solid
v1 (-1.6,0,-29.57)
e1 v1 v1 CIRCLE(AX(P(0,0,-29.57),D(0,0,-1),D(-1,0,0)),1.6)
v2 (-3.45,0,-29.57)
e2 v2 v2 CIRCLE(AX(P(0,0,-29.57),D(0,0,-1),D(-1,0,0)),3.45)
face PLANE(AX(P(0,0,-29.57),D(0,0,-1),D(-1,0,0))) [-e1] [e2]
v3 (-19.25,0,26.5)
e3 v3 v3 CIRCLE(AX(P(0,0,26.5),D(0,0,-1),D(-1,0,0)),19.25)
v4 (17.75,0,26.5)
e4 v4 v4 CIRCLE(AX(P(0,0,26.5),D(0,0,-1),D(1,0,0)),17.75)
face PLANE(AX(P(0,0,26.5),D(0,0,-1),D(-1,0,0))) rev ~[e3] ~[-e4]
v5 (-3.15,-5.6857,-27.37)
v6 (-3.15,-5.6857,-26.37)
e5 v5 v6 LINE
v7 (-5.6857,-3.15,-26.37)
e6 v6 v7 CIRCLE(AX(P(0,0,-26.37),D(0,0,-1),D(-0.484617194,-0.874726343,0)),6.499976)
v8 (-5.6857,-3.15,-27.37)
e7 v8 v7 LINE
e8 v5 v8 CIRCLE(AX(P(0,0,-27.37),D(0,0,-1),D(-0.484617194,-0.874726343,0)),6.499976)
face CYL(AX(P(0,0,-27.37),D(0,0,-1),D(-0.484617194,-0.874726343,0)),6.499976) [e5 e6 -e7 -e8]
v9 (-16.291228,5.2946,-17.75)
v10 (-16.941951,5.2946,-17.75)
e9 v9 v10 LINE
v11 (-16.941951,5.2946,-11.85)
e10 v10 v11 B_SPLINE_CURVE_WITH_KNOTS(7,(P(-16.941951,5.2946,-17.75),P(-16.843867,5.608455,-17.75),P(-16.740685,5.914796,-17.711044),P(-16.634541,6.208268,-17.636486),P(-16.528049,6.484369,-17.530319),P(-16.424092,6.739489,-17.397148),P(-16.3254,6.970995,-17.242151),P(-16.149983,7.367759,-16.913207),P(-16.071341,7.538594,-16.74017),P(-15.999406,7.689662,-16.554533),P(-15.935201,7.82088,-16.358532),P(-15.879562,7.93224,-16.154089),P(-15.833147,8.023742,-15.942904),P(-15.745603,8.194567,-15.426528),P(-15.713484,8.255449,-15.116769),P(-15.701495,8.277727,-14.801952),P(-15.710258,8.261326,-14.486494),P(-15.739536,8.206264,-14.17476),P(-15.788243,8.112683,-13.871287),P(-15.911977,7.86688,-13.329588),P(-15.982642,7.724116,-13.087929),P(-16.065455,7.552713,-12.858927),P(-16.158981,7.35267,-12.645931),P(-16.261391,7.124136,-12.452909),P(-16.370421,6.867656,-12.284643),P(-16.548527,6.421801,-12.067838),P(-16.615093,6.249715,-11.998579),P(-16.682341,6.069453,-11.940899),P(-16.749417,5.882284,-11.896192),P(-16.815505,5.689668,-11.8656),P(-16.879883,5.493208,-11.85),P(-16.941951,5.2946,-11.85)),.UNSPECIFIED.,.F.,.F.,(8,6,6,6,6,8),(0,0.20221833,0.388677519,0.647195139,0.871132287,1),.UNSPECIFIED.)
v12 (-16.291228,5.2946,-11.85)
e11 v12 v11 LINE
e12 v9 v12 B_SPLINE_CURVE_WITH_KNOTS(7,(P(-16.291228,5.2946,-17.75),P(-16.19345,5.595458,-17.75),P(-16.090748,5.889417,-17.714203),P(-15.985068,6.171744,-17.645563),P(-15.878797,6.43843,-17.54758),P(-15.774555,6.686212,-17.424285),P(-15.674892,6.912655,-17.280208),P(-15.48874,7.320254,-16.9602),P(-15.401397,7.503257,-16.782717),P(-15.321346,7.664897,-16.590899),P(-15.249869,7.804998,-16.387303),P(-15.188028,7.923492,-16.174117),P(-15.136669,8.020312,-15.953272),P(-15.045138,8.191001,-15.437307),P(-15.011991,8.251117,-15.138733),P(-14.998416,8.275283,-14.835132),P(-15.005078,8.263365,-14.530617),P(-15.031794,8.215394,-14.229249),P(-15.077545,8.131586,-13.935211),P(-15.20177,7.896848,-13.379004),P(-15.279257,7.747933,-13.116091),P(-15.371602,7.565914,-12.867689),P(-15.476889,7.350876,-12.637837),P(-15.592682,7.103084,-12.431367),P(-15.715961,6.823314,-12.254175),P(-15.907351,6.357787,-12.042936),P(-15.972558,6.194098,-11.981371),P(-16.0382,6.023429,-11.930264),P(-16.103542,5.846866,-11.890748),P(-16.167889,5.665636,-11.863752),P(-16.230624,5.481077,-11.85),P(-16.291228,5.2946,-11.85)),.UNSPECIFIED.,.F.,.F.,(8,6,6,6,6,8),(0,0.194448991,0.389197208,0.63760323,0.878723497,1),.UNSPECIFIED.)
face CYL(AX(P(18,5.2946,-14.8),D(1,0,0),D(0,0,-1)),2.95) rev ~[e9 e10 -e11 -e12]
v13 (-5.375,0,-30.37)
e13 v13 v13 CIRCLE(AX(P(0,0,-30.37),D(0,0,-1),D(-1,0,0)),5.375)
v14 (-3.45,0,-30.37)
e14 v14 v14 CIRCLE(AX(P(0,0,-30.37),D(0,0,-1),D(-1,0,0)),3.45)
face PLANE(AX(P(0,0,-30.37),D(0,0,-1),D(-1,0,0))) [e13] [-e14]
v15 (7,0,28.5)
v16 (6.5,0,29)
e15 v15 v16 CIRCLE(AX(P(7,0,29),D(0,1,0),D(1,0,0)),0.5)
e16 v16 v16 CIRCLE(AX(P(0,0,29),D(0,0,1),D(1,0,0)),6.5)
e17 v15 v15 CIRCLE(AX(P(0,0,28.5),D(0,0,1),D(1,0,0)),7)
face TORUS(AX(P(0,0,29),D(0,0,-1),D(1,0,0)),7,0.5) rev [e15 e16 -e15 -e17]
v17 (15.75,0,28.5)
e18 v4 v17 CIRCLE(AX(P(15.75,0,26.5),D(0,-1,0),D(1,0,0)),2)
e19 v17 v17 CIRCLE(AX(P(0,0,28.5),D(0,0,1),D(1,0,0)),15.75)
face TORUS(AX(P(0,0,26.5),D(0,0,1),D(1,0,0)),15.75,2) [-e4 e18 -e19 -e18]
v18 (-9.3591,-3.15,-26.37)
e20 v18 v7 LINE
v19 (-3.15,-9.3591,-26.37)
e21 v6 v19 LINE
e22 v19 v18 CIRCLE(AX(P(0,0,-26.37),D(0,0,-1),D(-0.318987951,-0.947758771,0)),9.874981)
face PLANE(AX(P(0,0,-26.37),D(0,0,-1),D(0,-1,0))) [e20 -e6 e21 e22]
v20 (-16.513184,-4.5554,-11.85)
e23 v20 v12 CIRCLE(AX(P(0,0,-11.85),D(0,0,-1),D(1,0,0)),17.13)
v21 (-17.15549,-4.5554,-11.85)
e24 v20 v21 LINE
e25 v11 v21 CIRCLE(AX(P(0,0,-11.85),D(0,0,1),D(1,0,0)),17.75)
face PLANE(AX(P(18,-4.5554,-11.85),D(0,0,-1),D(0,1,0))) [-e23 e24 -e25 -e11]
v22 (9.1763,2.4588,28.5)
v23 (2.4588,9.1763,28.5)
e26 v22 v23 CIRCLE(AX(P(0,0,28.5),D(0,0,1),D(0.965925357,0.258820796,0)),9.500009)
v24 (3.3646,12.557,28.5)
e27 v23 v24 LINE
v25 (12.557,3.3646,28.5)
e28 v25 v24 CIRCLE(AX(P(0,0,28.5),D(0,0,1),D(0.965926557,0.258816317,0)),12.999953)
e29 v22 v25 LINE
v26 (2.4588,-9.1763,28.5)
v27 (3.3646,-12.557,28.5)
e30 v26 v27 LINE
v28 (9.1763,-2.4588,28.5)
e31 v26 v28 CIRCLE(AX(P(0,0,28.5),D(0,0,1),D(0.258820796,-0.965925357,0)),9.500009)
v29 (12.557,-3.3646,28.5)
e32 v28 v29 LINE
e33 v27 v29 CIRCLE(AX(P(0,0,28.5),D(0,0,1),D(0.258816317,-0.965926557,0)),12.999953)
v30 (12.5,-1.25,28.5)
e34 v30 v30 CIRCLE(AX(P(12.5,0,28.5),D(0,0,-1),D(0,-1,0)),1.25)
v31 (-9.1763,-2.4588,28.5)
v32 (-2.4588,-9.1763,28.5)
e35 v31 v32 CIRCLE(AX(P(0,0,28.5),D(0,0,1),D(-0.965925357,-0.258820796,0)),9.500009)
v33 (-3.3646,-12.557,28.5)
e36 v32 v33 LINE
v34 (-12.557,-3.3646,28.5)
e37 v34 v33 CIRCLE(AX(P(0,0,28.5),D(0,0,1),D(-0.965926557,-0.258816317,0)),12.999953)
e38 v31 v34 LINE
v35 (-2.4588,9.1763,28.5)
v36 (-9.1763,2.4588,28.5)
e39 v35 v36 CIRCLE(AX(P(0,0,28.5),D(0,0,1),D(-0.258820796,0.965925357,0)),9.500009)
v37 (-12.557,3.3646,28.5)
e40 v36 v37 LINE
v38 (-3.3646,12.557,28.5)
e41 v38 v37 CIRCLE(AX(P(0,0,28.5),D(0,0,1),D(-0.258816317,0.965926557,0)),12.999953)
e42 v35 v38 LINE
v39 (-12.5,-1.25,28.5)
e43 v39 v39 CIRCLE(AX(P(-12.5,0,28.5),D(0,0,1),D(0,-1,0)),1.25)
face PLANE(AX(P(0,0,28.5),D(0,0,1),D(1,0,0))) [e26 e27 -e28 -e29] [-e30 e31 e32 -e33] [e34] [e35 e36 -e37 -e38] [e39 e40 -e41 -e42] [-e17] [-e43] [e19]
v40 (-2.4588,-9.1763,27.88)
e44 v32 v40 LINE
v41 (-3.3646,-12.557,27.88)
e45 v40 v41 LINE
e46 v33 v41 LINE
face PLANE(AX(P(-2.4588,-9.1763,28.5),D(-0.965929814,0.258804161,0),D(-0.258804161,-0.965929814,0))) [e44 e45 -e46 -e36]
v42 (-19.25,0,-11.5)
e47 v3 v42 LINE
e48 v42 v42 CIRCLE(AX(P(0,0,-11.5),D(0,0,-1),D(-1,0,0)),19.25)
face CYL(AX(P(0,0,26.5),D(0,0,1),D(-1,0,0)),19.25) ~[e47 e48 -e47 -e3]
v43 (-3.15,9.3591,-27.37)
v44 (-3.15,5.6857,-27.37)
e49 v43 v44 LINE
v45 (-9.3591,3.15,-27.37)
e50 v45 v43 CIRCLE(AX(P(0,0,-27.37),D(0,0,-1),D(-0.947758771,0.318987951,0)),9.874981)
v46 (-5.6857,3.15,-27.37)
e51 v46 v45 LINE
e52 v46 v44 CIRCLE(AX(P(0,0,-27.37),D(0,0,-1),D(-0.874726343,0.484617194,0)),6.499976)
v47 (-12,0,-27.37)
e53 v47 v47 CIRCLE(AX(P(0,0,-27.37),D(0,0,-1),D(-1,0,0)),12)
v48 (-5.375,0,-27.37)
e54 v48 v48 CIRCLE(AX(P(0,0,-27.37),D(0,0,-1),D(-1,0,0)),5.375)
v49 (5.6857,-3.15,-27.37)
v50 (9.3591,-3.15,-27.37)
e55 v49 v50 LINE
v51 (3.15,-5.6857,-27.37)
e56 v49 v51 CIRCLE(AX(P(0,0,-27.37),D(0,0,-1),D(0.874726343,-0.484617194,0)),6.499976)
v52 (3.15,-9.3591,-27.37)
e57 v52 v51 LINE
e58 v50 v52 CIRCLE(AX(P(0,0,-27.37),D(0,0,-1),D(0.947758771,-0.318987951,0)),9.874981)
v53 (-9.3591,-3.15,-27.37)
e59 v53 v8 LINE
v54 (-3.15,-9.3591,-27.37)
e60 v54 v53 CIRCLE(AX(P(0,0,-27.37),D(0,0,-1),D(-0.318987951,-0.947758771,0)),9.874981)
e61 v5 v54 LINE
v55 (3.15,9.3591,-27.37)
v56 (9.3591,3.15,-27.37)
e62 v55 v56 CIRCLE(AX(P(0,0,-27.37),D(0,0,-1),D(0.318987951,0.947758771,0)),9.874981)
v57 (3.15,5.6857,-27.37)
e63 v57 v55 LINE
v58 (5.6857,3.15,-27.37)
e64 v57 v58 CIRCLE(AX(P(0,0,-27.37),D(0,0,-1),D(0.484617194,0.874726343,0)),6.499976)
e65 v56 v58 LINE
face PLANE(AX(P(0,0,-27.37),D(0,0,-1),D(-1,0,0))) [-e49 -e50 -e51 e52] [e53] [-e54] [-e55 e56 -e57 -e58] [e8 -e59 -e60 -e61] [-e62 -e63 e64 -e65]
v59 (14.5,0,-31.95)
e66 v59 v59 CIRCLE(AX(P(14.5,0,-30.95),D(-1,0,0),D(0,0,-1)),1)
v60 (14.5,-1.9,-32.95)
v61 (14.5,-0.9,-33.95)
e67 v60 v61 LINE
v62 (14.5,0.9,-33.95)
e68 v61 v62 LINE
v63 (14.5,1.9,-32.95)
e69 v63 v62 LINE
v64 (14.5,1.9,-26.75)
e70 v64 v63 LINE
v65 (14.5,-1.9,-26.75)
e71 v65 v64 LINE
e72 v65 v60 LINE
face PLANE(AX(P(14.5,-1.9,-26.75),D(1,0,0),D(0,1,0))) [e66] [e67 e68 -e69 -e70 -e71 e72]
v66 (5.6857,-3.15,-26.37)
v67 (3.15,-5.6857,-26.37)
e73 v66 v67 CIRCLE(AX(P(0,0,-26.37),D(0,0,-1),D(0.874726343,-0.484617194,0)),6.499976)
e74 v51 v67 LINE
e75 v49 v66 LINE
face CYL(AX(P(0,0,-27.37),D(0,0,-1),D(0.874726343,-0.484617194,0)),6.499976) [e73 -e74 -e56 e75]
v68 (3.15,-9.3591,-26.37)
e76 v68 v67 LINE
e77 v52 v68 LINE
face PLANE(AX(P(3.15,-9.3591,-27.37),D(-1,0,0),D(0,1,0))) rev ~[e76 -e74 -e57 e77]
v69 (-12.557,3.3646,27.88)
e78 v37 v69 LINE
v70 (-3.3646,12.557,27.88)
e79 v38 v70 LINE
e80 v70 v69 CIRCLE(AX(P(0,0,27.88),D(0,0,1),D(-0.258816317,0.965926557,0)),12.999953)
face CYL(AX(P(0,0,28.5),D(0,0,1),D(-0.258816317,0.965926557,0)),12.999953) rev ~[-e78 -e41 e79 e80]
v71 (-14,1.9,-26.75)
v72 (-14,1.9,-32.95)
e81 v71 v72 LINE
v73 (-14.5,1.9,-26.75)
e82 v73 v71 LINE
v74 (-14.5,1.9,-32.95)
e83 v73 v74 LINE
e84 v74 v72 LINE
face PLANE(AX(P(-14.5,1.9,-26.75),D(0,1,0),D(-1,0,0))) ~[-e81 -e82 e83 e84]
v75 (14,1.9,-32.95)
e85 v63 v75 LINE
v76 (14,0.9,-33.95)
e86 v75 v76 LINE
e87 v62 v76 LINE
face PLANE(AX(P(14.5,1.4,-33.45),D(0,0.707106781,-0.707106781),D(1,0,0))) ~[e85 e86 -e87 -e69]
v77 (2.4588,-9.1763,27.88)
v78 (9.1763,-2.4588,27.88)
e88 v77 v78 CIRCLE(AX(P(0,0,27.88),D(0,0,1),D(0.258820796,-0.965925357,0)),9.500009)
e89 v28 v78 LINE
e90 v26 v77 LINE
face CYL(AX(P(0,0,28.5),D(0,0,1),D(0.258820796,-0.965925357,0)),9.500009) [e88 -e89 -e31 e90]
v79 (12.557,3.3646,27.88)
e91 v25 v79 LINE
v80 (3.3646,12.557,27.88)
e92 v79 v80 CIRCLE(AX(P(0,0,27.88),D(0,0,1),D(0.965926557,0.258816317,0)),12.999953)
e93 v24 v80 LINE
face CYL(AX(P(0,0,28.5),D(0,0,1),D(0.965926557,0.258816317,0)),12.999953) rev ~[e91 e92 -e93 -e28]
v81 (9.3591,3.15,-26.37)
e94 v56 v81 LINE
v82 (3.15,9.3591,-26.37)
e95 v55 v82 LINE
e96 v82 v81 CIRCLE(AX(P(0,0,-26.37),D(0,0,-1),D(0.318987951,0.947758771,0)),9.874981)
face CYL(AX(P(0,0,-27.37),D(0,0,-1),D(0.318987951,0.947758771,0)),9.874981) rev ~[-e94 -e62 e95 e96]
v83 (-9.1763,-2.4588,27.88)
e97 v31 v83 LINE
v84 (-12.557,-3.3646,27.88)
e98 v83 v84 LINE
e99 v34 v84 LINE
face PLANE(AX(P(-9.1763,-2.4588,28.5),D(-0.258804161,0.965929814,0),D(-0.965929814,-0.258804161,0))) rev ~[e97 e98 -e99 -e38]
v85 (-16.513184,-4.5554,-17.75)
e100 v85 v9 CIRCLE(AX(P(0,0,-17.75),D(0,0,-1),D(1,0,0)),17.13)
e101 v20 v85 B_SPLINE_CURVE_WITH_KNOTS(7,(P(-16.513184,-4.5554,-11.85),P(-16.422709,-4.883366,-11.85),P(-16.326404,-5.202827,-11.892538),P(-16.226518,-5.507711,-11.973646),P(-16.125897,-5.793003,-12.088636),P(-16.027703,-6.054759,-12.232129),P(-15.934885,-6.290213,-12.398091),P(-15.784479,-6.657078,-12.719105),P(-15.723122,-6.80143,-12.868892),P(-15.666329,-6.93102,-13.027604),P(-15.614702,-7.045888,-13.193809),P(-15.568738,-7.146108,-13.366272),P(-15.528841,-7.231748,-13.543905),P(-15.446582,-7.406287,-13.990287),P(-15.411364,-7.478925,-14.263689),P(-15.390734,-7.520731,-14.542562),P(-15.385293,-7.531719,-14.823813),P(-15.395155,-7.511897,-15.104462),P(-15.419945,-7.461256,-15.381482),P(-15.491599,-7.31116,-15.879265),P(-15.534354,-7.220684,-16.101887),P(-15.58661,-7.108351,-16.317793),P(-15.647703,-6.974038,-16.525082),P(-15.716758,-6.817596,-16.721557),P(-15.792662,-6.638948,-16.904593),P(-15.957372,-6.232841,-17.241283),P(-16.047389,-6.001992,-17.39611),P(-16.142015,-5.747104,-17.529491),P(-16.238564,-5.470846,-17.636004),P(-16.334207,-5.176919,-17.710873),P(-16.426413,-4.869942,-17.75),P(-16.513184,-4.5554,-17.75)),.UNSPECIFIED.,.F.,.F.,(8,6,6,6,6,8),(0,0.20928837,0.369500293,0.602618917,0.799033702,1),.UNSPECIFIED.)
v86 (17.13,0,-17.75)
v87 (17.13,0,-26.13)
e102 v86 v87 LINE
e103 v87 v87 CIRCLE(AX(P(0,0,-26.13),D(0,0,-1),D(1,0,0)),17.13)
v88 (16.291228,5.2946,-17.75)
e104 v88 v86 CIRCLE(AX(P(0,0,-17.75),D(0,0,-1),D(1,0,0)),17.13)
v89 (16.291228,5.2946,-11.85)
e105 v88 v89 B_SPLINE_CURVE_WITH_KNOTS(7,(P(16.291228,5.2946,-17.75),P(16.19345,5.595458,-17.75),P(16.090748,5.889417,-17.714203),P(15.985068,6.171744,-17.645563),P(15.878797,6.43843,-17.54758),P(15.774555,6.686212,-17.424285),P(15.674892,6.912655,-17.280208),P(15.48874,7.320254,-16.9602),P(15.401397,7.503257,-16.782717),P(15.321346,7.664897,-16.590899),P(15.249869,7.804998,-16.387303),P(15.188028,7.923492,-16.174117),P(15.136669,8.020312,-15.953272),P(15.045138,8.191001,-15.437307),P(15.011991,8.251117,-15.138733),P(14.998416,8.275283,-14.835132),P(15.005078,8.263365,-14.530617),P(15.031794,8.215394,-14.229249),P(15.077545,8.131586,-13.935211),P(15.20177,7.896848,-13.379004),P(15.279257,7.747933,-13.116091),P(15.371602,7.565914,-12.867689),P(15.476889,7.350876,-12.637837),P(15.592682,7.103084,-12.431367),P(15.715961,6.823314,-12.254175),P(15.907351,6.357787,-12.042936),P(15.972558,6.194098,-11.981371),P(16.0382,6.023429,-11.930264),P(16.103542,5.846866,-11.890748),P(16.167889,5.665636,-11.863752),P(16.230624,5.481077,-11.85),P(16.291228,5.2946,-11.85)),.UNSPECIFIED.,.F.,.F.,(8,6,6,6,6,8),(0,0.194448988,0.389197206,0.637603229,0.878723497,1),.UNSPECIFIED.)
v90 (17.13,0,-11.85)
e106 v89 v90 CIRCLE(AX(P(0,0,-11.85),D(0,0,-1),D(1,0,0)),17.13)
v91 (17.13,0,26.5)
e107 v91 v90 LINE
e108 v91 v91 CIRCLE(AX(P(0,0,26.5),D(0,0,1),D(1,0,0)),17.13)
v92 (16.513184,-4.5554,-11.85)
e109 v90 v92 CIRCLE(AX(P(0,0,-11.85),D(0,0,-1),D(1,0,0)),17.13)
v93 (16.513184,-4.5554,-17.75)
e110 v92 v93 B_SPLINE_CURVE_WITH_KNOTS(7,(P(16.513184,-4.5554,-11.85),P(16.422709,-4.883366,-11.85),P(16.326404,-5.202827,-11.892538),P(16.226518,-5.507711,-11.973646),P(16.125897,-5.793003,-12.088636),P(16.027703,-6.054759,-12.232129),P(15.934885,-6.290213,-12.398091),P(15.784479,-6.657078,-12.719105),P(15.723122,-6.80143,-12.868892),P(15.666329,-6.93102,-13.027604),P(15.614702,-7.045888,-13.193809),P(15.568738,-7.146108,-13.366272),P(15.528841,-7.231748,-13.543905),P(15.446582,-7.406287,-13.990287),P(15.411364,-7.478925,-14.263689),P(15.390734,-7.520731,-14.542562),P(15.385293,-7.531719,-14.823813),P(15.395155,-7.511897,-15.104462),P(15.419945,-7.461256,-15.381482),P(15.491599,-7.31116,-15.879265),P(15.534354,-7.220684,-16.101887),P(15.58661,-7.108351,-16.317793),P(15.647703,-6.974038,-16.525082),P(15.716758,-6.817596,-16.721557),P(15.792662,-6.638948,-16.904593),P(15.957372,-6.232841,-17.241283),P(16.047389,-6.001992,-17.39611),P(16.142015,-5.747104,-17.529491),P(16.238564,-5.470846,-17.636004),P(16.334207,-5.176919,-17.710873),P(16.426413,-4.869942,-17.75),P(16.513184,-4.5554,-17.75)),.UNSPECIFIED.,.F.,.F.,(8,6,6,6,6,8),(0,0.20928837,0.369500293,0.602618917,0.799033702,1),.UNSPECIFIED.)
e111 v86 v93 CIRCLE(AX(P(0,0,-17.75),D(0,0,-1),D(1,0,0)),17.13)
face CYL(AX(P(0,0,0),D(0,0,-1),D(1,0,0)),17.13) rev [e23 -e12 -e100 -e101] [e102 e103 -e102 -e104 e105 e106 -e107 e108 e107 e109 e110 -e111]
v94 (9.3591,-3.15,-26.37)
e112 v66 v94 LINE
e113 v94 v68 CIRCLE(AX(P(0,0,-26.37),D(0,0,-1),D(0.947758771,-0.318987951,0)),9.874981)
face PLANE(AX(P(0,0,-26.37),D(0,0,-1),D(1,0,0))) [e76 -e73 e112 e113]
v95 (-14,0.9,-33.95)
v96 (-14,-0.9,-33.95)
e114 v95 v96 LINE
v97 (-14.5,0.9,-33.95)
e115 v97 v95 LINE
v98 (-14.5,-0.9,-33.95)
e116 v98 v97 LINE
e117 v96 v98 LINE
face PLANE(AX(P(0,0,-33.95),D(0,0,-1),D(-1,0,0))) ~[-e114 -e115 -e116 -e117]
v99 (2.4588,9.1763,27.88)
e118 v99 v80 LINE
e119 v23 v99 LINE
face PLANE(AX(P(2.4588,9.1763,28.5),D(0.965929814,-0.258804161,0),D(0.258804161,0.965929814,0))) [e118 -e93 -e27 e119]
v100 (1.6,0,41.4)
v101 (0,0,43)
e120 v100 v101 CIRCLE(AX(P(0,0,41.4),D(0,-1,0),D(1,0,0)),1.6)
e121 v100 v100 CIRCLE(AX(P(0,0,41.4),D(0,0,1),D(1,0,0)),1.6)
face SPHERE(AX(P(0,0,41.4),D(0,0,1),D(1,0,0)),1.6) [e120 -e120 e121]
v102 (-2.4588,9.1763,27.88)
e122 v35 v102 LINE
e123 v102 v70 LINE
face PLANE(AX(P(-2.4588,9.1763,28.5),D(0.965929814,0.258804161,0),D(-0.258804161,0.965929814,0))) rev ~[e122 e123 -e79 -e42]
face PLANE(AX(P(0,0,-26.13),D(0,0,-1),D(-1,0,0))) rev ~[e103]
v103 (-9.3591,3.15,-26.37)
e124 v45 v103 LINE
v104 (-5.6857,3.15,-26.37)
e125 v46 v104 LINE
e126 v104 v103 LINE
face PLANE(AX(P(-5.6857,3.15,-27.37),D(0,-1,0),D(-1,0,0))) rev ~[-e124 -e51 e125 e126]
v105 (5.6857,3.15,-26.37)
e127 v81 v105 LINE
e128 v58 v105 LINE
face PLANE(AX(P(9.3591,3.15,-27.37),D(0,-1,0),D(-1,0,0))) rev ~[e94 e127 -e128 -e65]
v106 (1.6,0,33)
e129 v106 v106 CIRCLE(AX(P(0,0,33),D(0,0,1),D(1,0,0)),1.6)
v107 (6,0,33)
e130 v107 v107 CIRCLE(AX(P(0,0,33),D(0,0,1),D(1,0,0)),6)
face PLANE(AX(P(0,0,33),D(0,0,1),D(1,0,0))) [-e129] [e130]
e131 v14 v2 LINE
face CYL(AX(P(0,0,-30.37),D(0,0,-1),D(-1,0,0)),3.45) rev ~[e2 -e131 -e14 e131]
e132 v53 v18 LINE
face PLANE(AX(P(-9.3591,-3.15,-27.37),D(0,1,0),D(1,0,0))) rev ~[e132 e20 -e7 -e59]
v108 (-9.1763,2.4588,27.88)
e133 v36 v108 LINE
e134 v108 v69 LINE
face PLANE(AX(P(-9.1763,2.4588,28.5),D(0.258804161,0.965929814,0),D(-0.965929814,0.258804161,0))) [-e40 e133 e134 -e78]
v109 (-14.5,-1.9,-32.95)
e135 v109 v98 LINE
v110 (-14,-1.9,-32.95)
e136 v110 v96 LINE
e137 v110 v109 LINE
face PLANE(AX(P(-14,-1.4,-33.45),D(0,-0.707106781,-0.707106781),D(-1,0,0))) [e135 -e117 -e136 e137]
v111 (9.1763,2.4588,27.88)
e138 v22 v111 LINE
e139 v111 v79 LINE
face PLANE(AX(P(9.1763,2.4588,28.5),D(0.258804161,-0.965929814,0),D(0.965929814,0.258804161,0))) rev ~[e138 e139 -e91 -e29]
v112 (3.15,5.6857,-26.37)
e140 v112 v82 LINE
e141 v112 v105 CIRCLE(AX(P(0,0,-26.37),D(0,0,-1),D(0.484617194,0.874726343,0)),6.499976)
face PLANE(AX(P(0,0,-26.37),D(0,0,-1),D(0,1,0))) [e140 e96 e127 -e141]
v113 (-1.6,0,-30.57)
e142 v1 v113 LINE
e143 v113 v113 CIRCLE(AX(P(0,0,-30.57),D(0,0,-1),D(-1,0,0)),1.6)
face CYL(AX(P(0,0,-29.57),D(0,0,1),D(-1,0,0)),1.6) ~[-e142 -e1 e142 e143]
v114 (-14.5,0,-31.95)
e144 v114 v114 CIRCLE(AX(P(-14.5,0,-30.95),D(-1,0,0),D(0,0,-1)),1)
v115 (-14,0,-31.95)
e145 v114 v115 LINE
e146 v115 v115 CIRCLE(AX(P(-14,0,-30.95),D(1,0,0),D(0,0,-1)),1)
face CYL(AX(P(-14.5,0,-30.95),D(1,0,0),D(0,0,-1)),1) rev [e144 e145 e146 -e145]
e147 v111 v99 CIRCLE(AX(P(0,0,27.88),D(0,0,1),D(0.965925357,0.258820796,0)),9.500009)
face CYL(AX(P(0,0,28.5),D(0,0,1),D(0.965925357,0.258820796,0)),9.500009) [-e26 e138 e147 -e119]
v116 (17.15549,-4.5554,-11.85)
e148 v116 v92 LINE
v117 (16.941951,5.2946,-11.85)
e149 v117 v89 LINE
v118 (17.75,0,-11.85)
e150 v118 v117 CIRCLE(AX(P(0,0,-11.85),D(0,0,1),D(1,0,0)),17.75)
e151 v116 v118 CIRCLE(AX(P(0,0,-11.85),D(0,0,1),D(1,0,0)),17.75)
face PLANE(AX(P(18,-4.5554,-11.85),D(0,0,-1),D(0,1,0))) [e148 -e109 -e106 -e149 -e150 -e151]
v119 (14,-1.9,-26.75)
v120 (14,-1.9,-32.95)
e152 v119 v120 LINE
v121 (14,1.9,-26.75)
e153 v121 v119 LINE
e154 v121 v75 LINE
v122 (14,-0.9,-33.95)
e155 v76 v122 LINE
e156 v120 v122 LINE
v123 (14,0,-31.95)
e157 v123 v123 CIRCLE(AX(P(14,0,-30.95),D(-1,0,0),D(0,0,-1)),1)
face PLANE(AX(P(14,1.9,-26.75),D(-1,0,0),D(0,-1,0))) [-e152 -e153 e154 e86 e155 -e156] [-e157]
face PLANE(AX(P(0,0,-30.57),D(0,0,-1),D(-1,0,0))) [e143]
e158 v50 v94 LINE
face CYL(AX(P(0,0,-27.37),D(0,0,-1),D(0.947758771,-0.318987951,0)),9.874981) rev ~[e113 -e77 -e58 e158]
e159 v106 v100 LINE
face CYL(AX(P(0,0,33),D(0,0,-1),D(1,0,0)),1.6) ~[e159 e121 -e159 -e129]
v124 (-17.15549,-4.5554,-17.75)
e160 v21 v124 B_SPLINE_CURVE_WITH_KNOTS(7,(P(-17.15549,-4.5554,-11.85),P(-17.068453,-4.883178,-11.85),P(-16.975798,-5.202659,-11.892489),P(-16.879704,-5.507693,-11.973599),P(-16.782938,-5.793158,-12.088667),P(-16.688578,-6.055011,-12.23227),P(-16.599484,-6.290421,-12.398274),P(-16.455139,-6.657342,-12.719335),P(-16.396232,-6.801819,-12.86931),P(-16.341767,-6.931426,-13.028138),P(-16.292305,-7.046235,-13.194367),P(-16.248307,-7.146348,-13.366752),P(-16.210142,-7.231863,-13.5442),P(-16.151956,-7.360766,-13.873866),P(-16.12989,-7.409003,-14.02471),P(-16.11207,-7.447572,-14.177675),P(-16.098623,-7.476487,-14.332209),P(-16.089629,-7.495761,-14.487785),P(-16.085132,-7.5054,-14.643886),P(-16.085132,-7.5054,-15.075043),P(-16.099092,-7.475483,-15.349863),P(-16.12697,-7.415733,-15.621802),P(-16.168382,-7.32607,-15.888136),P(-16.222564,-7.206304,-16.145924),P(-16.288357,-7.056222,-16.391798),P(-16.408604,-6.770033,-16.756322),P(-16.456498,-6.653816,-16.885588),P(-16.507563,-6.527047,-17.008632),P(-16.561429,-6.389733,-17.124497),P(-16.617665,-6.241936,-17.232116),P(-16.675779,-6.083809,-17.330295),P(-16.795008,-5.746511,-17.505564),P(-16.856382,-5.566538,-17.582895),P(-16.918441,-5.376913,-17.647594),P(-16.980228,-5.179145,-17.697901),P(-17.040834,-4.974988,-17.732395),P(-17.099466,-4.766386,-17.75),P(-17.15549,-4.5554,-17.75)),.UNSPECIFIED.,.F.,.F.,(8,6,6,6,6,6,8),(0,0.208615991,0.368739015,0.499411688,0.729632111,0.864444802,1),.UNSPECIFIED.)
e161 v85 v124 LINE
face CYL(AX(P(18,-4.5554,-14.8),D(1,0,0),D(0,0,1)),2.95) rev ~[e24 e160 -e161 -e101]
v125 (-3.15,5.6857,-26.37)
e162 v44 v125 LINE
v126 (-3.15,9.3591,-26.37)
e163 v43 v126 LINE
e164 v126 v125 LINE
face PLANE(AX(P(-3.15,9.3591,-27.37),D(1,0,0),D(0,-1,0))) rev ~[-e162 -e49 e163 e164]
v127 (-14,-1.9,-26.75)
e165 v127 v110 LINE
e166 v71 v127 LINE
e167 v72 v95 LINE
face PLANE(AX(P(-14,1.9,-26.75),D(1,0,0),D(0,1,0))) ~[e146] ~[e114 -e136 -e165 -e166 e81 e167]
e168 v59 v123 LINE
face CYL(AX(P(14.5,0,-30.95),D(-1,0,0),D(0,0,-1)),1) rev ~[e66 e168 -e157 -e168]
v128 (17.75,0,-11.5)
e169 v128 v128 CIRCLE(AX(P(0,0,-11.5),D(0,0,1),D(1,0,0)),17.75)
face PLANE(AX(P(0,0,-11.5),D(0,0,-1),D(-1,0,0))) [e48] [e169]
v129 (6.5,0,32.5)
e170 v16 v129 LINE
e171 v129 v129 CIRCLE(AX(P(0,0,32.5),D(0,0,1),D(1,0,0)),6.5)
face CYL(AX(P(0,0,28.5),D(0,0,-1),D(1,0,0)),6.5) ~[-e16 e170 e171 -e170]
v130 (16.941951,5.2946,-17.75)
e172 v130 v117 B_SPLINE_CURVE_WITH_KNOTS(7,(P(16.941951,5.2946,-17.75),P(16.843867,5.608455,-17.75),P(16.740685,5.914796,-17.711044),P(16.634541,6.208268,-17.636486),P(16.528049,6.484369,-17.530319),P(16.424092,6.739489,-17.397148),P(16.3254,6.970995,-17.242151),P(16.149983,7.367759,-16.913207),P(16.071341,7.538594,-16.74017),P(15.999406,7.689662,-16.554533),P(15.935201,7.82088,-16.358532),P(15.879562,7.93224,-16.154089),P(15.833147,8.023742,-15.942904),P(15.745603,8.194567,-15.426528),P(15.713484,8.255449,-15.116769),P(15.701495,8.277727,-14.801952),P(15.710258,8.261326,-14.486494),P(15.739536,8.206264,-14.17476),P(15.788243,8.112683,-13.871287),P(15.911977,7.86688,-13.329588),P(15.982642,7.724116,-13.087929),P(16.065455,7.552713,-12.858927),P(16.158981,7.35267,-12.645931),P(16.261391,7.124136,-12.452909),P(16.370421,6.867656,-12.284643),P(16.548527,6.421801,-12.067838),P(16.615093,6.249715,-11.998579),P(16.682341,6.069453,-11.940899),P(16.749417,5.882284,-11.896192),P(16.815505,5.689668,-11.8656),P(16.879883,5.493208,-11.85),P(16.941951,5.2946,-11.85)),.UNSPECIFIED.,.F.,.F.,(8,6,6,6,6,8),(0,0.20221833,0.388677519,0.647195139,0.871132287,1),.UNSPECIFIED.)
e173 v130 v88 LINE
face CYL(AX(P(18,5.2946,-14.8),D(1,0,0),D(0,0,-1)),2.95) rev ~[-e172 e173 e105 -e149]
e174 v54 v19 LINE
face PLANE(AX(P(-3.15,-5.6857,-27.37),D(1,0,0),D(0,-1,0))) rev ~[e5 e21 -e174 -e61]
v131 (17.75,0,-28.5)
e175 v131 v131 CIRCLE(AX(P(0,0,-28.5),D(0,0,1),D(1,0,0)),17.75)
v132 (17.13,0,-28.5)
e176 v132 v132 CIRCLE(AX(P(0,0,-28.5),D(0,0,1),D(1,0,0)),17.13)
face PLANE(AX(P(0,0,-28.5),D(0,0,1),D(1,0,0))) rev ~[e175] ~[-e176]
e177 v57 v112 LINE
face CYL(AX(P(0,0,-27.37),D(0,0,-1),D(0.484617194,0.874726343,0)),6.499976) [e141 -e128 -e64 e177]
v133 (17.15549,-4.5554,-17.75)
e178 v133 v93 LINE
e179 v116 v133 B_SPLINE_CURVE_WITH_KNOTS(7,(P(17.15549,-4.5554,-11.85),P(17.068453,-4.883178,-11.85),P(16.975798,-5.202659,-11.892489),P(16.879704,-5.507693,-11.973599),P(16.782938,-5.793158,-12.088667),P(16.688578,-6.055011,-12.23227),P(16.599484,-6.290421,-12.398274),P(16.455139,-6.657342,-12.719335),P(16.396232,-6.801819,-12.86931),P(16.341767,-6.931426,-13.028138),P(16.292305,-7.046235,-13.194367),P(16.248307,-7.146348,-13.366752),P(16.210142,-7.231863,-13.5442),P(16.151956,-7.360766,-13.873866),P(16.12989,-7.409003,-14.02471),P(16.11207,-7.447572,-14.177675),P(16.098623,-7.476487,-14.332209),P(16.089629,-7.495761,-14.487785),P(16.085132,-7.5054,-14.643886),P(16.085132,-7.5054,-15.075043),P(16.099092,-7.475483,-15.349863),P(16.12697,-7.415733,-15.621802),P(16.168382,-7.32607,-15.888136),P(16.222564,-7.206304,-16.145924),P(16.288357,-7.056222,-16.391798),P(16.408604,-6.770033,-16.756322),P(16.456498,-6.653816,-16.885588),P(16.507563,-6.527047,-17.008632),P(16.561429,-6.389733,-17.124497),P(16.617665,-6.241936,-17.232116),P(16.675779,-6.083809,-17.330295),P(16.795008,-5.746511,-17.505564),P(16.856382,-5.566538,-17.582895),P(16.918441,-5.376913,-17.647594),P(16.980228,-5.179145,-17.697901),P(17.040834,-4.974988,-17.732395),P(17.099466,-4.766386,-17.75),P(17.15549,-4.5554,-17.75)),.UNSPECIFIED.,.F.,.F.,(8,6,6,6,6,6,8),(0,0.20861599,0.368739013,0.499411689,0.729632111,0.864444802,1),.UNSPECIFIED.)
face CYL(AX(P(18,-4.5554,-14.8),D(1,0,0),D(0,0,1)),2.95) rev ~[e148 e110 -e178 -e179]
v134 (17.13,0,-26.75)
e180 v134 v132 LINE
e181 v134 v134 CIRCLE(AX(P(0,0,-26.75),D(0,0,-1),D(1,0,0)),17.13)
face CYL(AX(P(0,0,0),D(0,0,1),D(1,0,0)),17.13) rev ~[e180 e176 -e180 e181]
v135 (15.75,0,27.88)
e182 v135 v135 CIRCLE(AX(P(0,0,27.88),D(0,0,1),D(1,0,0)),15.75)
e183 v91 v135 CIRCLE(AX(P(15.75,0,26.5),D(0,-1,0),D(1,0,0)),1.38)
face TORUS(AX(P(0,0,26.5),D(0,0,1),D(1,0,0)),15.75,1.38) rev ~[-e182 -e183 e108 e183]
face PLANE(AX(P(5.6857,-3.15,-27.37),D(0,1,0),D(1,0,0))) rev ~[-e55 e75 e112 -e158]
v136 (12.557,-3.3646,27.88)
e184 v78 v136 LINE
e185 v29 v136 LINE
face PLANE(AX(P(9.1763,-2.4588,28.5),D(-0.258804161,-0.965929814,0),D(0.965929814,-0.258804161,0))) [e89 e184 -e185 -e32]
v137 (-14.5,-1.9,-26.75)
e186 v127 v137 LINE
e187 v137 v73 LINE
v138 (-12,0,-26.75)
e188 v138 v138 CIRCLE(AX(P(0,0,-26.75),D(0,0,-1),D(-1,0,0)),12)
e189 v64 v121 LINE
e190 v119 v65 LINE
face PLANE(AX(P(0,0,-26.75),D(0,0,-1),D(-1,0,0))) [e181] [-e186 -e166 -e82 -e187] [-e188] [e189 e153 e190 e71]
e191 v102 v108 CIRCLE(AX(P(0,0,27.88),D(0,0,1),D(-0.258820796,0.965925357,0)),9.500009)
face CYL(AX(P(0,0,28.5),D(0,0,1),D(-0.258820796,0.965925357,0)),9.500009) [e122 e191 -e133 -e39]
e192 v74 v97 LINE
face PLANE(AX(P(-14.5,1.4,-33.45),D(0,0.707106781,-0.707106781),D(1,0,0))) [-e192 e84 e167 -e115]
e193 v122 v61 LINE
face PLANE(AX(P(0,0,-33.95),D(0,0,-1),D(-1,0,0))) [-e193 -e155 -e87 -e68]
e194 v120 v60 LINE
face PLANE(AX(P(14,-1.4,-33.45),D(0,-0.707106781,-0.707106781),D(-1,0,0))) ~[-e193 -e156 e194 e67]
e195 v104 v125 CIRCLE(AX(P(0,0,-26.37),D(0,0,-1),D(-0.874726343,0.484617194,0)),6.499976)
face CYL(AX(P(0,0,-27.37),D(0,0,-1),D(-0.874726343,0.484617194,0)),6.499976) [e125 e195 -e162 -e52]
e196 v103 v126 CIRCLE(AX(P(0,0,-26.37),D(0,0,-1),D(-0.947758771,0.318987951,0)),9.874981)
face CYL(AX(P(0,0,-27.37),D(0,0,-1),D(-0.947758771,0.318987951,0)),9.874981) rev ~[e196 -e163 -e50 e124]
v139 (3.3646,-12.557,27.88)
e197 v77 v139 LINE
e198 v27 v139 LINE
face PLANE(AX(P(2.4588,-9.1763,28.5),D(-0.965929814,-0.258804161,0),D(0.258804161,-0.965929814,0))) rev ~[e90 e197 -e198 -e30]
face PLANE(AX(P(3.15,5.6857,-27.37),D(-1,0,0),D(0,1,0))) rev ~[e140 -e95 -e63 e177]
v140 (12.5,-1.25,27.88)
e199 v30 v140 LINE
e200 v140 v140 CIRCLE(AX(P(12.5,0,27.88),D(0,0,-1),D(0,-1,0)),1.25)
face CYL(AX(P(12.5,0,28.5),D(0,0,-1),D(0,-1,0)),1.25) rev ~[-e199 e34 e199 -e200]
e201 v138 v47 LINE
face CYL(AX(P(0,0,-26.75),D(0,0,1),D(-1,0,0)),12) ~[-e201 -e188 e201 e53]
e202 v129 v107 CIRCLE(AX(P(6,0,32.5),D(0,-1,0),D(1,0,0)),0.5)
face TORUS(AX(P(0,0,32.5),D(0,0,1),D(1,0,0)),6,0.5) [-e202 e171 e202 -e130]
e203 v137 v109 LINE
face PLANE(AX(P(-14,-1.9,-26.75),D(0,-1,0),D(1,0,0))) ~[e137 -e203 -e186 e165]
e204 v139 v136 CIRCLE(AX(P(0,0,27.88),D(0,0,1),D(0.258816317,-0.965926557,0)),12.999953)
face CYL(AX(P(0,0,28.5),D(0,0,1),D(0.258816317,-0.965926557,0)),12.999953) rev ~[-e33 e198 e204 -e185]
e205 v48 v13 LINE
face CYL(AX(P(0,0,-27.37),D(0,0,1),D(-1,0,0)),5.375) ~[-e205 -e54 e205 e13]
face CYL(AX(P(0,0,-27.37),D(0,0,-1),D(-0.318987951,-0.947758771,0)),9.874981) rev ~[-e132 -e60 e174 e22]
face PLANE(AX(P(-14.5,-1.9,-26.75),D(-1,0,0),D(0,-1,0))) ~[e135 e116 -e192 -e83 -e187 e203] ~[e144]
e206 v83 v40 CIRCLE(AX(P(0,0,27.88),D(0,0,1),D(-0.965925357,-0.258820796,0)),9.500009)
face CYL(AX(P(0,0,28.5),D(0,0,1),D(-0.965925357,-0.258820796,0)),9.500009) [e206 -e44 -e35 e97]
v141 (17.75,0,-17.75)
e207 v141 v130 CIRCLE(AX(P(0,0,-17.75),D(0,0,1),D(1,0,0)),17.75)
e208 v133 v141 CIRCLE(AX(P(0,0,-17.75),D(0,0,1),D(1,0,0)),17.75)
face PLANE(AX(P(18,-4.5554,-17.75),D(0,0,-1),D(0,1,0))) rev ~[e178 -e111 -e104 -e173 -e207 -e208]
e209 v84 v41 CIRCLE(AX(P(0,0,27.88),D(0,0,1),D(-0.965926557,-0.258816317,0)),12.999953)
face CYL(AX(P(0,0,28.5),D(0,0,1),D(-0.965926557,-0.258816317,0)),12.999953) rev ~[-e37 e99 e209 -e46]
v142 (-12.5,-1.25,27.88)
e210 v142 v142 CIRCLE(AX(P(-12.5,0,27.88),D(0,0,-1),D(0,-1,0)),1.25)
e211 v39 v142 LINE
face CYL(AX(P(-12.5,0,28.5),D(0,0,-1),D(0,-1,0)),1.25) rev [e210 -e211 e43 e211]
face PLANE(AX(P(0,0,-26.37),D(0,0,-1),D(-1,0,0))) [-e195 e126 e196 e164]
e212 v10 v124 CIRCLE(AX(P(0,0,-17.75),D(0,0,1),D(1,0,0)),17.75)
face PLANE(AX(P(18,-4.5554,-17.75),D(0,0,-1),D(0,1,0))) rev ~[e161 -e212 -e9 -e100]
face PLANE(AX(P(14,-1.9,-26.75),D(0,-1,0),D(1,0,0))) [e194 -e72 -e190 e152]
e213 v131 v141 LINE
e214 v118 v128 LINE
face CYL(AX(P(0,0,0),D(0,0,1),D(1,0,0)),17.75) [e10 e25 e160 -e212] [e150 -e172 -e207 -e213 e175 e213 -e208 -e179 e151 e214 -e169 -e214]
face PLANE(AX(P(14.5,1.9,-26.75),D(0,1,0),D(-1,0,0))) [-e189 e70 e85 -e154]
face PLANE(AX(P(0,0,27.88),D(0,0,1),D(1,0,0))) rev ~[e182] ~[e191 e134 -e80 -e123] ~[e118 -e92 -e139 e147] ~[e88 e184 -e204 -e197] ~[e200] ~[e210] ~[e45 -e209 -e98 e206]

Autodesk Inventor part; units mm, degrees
sketch "Sketch1" plane through (0, 0, 0) normal (0, 0, 1) x (1, 0, 0)
  circle A0 centre (0, 0) radius 17.75
  dimension "d0" = 35.5
extrude "Extrusion1" add sketch "Sketch1" along normal mid plane 57
fillet "Fillet1" radius 2 1 edges at (-17.75, 0, 28.5)
shell "Shell1" thickness 0.62 removed faces 1 at (3.0438, 4.2648, -28.5)
sketch "Sketch2" plane through (0, 0, 28.5) normal (0, 0, 1) x (1, 0, 0)
  circle A0 centre (0, 0) radius 15.75 projected
  circle A1 centre (0, 0) radius 6.5
  dimension "d5" = 13
extrude "Extrusion2" add sketch "Sketch2" along normal blind 4.5 contours A1
fillet "Fillet2" radius 0.5 2 edges at (-6.5, 0, 28.5) (-6.5, 0, 33)
sketch "Sketch3" plane through (0, 0, 33) normal (0, 0, 1) x (1, 0, 0)
  circle A0 centre (0, 0) radius 6 projected
  circle A1 centre (0, 0) radius 1.6
  dimension "d9" = 3.2
extrude "Extrusion3" add sketch "Sketch3" along normal blind 10 contours A1
fillet "Fillet3" radius 1.6 1 edges at (-1.6, 0, 43)
sketch "Sketch4" plane through (0, 0, 28.5) normal (0, 0, 1) x (1, 0, 0)
  circle A0 centre (0, 0) radius 15.75 projected
  point P0 (12.5, 0)
  dimension "d13" = 12.5
hole "Hole1" at (12.5, 0, 28.5) direction (0, 0, -1) diameter 2.5 depth 8 tip angle 118
mirror "Mirror1" about plane through (0, 0, 0) normal (1, 0, 0) of "Hole1"
sketch "Sketch5" plane through (0, 0, 28.5) normal (0, 0, 1) x (1, 0, 0)
  circle A0 centre (12.5, 0) radius 1.25 projected
  circle A1 centre (0, 0) radius 7 projected
  arc A2 (12.557, 3.3646) -> (3.3646, 12.557) centre (0, 0) ccw
  arc A3 (9.1763, 2.4588) -> (2.4588, 9.1763) centre (0, 0) ccw
  line L0 (0, 0) -> (3.3646, 12.557) construction
  line L1 (0, 0) -> (12.557, 3.3646) construction
  line L2 (2.4588, 9.1763) -> (3.3646, 12.557)
  line L3 (9.1763, 2.4588) -> (12.557, 3.3646)
  line L4 (0, 0) -> (12.5, 0) construction
  line L5 (0.151, 0.5634) -> (0.151, 14.7153) construction
  dimension "d21" = 15
  dimension "d22" = 15
  dimension "d23" = 13
  dimension "d24" = 9.5
extrude "Extrusion4" cut sketch "Sketch5" against normal blind 10 contours L3 A3 L2 A2
pattern_circular "Circular Pattern1" count 4 over 360 about axis through (0, 0, 0) along (0, 0, 1) of "Extrusion4"
ref_plane "Work Plane1" through (0, 0, -26.75) normal (0, 0, -1) x (-1, 0, 0)
sketch "Sketch6" plane through (0, 0, -26.75) normal (0, 0, -1) x (-1, 0, 0)
  circle A0 centre (0, 0) radius 17.13 projected
extrude "Extrusion5" add sketch "Sketch6" against normal blind 0.62
sketch "Sketch7" plane through (0, 0, -26.75) normal (0, 0, -1) x (-1, 0, 0)
  circle A0 centre (0, 0) radius 17.13 projected
  circle A1 centre (0, 0) radius 12
  dimension "d33" = 24
extrude "Extrusion6" add sketch "Sketch7" along normal blind 0.62 contours A1
sketch "Sketch8" plane through (0, 0, -27.37) normal (0, 0, -1) x (-1, 0, 0)
  circle A0 centre (0, 0) radius 12 projected
  circle A1 centre (0, 0) radius 5.375
  dimension "d36" = 10.75
extrude "Extrusion7" add sketch "Sketch8" along normal blind 3 contours A1
sketch "Sketch9" plane through (0, 0, -30.37) normal (0, 0, -1) x (-1, 0, 0)
  circle A0 centre (0, 0) radius 5.375 projected
  circle A1 centre (0, 0) radius 3.45
  dimension "d39" = 6.9
extrude "Extrusion8" cut sketch "Sketch9" against normal blind 0.8 contours A1
sketch "Sketch10" plane through (0, 0, -29.57) normal (0, 0, -1) x (-1, 0, 0)
  circle A0 centre (0, 0) radius 3.45 projected
  circle A1 centre (0, 0) radius 1.6
  dimension "d42" = 3.2
extrude "Extrusion9" add sketch "Sketch10" along normal blind 1 contours A1
sketch "Sketch11" plane through (0, 0, -27.37) normal (0, 0, -1) x (-1, 0, 0)
  circle A0 centre (0, 0) radius 5.375 projected
  circle A1 centre (0, 0) radius 12 projected
  arc A2 (9.3591, 3.15) -> (3.15, 9.3591) centre (0, 0) ccw
  arc A3 (5.6857, 3.15) -> (3.15, 5.6857) centre (0, 0) ccw
  line L0 (3.15, 9.3591) -> (3.15, 5.6857)
  line L1 (5.6857, 3.15) -> (9.3591, 3.15)
  dimension "d45" = 3.15
  dimension "d46" = 3.15
  dimension "d47" = 9.875
  dimension "d48" = 6.5
extrude "Extrusion10" cut sketch "Sketch11" against normal blind 1 contours L1 A3 L0 A2
pattern_circular "Circular Pattern2" count 4 over 360 about axis through (0, 0, 0) along (0, 0, 1) of "Extrusion10"
sketch "Sketch12" plane through (0, 0, -26.75) normal (0, 0, -1) x (-1, 0, 0)
  circle A0 centre (0, 0) radius 12 projected
  circle A1 centre (0, 0) radius 17.13 projected
  line L0 (-14.5, 1.9) -> (-14, 1.9)
  line L1 (-14, 1.9) -> (-14, -1.9)
  line L2 (-14, -1.9) -> (-14.5, -1.9)
  line L3 (-14.5, -1.9) -> (-14.5, 1.9)
  line L4 (0, 0) -> (-16.9017, 0) construction
  point P0 (-14, 0)
  dimension "d54" = 0.5
  dimension "d55" = 3.8
  dimension "d56" = 14
extrude "Extrusion11" add sketch "Sketch12" along normal blind 7.2 contours L0 L1 L2 L3
chamfer "Chamfer1" distance 1 angle 45 2 edges at (14.25, 1.9, -33.95) (14.25, -1.9, -33.95)
sketch "Sketch13" plane through (14.5, -1.9, -26.75) normal (1, 0, 0) x (0, 0, -1)
  line L0 (7.2, 1) -> (7.2, 2.8) projected
  line L1 (4.2, 1.9) -> (6.2, 3.8) construction
  line L2 (4.2, 1.9) -> (6.2, 0) construction
  dimension "d61" = 3
hole "Hole2" at (14.5, 0, -30.95) direction (-1, 0, 0) diameter 2 depth 1 tip angle 118
mirror "Mirror2" about plane through (0, 0, 0) normal (1, 0, 0) of "Extrusion11", "Chamfer1", "Hole2"
ref_plane "Work Plane2" through (18, 0, 0) normal (1, 0, 0) x (0, 1, 0)
sketch "Sketch14" plane through (18, 0, 0) normal (1, 0, 0) x (0, 1, 0)
  arc A0 (-4.5554, -11.85) -> (-4.5554, -17.75) centre (-4.5554, -14.8) ccw
  arc A1 (5.2946, -17.75) -> (5.2946, -11.85) centre (5.2946, -14.8) ccw
  line L0 (-4.5554, -11.85) -> (5.2946, -11.85)
  line L1 (-4.5554, -17.75) -> (5.2946, -17.75)
  line L2 (17.75, -28.5) -> (-17.75, -28.5) projected
  line L3 (0, -28.5) -> (0, 17.1564) construction
  dimension "d70" = 10.75
  dimension "d71" = 5.9
  dimension "d72" = 9.85
extrude "Extrusion12" cut sketch "Sketch14" against normal through all
ref_plane "Work Plane3" through (0, 0, 26.5) normal (0, 0, -1) x (-1, 0, 0)
sketch "Sketch15" plane through (0, 0, 26.5) normal (0, 0, -1) x (-1, 0, 0)
  circle A0 centre (0, 0) radius 17.75 projected
  circle A1 centre (0, 0) radius 19.25
  dimension "d76" = 1.5
extrude "Flux Ring" add sketch "Sketch15" along normal blind 38
properties part number "RS-550" material "Steel, Mild"
